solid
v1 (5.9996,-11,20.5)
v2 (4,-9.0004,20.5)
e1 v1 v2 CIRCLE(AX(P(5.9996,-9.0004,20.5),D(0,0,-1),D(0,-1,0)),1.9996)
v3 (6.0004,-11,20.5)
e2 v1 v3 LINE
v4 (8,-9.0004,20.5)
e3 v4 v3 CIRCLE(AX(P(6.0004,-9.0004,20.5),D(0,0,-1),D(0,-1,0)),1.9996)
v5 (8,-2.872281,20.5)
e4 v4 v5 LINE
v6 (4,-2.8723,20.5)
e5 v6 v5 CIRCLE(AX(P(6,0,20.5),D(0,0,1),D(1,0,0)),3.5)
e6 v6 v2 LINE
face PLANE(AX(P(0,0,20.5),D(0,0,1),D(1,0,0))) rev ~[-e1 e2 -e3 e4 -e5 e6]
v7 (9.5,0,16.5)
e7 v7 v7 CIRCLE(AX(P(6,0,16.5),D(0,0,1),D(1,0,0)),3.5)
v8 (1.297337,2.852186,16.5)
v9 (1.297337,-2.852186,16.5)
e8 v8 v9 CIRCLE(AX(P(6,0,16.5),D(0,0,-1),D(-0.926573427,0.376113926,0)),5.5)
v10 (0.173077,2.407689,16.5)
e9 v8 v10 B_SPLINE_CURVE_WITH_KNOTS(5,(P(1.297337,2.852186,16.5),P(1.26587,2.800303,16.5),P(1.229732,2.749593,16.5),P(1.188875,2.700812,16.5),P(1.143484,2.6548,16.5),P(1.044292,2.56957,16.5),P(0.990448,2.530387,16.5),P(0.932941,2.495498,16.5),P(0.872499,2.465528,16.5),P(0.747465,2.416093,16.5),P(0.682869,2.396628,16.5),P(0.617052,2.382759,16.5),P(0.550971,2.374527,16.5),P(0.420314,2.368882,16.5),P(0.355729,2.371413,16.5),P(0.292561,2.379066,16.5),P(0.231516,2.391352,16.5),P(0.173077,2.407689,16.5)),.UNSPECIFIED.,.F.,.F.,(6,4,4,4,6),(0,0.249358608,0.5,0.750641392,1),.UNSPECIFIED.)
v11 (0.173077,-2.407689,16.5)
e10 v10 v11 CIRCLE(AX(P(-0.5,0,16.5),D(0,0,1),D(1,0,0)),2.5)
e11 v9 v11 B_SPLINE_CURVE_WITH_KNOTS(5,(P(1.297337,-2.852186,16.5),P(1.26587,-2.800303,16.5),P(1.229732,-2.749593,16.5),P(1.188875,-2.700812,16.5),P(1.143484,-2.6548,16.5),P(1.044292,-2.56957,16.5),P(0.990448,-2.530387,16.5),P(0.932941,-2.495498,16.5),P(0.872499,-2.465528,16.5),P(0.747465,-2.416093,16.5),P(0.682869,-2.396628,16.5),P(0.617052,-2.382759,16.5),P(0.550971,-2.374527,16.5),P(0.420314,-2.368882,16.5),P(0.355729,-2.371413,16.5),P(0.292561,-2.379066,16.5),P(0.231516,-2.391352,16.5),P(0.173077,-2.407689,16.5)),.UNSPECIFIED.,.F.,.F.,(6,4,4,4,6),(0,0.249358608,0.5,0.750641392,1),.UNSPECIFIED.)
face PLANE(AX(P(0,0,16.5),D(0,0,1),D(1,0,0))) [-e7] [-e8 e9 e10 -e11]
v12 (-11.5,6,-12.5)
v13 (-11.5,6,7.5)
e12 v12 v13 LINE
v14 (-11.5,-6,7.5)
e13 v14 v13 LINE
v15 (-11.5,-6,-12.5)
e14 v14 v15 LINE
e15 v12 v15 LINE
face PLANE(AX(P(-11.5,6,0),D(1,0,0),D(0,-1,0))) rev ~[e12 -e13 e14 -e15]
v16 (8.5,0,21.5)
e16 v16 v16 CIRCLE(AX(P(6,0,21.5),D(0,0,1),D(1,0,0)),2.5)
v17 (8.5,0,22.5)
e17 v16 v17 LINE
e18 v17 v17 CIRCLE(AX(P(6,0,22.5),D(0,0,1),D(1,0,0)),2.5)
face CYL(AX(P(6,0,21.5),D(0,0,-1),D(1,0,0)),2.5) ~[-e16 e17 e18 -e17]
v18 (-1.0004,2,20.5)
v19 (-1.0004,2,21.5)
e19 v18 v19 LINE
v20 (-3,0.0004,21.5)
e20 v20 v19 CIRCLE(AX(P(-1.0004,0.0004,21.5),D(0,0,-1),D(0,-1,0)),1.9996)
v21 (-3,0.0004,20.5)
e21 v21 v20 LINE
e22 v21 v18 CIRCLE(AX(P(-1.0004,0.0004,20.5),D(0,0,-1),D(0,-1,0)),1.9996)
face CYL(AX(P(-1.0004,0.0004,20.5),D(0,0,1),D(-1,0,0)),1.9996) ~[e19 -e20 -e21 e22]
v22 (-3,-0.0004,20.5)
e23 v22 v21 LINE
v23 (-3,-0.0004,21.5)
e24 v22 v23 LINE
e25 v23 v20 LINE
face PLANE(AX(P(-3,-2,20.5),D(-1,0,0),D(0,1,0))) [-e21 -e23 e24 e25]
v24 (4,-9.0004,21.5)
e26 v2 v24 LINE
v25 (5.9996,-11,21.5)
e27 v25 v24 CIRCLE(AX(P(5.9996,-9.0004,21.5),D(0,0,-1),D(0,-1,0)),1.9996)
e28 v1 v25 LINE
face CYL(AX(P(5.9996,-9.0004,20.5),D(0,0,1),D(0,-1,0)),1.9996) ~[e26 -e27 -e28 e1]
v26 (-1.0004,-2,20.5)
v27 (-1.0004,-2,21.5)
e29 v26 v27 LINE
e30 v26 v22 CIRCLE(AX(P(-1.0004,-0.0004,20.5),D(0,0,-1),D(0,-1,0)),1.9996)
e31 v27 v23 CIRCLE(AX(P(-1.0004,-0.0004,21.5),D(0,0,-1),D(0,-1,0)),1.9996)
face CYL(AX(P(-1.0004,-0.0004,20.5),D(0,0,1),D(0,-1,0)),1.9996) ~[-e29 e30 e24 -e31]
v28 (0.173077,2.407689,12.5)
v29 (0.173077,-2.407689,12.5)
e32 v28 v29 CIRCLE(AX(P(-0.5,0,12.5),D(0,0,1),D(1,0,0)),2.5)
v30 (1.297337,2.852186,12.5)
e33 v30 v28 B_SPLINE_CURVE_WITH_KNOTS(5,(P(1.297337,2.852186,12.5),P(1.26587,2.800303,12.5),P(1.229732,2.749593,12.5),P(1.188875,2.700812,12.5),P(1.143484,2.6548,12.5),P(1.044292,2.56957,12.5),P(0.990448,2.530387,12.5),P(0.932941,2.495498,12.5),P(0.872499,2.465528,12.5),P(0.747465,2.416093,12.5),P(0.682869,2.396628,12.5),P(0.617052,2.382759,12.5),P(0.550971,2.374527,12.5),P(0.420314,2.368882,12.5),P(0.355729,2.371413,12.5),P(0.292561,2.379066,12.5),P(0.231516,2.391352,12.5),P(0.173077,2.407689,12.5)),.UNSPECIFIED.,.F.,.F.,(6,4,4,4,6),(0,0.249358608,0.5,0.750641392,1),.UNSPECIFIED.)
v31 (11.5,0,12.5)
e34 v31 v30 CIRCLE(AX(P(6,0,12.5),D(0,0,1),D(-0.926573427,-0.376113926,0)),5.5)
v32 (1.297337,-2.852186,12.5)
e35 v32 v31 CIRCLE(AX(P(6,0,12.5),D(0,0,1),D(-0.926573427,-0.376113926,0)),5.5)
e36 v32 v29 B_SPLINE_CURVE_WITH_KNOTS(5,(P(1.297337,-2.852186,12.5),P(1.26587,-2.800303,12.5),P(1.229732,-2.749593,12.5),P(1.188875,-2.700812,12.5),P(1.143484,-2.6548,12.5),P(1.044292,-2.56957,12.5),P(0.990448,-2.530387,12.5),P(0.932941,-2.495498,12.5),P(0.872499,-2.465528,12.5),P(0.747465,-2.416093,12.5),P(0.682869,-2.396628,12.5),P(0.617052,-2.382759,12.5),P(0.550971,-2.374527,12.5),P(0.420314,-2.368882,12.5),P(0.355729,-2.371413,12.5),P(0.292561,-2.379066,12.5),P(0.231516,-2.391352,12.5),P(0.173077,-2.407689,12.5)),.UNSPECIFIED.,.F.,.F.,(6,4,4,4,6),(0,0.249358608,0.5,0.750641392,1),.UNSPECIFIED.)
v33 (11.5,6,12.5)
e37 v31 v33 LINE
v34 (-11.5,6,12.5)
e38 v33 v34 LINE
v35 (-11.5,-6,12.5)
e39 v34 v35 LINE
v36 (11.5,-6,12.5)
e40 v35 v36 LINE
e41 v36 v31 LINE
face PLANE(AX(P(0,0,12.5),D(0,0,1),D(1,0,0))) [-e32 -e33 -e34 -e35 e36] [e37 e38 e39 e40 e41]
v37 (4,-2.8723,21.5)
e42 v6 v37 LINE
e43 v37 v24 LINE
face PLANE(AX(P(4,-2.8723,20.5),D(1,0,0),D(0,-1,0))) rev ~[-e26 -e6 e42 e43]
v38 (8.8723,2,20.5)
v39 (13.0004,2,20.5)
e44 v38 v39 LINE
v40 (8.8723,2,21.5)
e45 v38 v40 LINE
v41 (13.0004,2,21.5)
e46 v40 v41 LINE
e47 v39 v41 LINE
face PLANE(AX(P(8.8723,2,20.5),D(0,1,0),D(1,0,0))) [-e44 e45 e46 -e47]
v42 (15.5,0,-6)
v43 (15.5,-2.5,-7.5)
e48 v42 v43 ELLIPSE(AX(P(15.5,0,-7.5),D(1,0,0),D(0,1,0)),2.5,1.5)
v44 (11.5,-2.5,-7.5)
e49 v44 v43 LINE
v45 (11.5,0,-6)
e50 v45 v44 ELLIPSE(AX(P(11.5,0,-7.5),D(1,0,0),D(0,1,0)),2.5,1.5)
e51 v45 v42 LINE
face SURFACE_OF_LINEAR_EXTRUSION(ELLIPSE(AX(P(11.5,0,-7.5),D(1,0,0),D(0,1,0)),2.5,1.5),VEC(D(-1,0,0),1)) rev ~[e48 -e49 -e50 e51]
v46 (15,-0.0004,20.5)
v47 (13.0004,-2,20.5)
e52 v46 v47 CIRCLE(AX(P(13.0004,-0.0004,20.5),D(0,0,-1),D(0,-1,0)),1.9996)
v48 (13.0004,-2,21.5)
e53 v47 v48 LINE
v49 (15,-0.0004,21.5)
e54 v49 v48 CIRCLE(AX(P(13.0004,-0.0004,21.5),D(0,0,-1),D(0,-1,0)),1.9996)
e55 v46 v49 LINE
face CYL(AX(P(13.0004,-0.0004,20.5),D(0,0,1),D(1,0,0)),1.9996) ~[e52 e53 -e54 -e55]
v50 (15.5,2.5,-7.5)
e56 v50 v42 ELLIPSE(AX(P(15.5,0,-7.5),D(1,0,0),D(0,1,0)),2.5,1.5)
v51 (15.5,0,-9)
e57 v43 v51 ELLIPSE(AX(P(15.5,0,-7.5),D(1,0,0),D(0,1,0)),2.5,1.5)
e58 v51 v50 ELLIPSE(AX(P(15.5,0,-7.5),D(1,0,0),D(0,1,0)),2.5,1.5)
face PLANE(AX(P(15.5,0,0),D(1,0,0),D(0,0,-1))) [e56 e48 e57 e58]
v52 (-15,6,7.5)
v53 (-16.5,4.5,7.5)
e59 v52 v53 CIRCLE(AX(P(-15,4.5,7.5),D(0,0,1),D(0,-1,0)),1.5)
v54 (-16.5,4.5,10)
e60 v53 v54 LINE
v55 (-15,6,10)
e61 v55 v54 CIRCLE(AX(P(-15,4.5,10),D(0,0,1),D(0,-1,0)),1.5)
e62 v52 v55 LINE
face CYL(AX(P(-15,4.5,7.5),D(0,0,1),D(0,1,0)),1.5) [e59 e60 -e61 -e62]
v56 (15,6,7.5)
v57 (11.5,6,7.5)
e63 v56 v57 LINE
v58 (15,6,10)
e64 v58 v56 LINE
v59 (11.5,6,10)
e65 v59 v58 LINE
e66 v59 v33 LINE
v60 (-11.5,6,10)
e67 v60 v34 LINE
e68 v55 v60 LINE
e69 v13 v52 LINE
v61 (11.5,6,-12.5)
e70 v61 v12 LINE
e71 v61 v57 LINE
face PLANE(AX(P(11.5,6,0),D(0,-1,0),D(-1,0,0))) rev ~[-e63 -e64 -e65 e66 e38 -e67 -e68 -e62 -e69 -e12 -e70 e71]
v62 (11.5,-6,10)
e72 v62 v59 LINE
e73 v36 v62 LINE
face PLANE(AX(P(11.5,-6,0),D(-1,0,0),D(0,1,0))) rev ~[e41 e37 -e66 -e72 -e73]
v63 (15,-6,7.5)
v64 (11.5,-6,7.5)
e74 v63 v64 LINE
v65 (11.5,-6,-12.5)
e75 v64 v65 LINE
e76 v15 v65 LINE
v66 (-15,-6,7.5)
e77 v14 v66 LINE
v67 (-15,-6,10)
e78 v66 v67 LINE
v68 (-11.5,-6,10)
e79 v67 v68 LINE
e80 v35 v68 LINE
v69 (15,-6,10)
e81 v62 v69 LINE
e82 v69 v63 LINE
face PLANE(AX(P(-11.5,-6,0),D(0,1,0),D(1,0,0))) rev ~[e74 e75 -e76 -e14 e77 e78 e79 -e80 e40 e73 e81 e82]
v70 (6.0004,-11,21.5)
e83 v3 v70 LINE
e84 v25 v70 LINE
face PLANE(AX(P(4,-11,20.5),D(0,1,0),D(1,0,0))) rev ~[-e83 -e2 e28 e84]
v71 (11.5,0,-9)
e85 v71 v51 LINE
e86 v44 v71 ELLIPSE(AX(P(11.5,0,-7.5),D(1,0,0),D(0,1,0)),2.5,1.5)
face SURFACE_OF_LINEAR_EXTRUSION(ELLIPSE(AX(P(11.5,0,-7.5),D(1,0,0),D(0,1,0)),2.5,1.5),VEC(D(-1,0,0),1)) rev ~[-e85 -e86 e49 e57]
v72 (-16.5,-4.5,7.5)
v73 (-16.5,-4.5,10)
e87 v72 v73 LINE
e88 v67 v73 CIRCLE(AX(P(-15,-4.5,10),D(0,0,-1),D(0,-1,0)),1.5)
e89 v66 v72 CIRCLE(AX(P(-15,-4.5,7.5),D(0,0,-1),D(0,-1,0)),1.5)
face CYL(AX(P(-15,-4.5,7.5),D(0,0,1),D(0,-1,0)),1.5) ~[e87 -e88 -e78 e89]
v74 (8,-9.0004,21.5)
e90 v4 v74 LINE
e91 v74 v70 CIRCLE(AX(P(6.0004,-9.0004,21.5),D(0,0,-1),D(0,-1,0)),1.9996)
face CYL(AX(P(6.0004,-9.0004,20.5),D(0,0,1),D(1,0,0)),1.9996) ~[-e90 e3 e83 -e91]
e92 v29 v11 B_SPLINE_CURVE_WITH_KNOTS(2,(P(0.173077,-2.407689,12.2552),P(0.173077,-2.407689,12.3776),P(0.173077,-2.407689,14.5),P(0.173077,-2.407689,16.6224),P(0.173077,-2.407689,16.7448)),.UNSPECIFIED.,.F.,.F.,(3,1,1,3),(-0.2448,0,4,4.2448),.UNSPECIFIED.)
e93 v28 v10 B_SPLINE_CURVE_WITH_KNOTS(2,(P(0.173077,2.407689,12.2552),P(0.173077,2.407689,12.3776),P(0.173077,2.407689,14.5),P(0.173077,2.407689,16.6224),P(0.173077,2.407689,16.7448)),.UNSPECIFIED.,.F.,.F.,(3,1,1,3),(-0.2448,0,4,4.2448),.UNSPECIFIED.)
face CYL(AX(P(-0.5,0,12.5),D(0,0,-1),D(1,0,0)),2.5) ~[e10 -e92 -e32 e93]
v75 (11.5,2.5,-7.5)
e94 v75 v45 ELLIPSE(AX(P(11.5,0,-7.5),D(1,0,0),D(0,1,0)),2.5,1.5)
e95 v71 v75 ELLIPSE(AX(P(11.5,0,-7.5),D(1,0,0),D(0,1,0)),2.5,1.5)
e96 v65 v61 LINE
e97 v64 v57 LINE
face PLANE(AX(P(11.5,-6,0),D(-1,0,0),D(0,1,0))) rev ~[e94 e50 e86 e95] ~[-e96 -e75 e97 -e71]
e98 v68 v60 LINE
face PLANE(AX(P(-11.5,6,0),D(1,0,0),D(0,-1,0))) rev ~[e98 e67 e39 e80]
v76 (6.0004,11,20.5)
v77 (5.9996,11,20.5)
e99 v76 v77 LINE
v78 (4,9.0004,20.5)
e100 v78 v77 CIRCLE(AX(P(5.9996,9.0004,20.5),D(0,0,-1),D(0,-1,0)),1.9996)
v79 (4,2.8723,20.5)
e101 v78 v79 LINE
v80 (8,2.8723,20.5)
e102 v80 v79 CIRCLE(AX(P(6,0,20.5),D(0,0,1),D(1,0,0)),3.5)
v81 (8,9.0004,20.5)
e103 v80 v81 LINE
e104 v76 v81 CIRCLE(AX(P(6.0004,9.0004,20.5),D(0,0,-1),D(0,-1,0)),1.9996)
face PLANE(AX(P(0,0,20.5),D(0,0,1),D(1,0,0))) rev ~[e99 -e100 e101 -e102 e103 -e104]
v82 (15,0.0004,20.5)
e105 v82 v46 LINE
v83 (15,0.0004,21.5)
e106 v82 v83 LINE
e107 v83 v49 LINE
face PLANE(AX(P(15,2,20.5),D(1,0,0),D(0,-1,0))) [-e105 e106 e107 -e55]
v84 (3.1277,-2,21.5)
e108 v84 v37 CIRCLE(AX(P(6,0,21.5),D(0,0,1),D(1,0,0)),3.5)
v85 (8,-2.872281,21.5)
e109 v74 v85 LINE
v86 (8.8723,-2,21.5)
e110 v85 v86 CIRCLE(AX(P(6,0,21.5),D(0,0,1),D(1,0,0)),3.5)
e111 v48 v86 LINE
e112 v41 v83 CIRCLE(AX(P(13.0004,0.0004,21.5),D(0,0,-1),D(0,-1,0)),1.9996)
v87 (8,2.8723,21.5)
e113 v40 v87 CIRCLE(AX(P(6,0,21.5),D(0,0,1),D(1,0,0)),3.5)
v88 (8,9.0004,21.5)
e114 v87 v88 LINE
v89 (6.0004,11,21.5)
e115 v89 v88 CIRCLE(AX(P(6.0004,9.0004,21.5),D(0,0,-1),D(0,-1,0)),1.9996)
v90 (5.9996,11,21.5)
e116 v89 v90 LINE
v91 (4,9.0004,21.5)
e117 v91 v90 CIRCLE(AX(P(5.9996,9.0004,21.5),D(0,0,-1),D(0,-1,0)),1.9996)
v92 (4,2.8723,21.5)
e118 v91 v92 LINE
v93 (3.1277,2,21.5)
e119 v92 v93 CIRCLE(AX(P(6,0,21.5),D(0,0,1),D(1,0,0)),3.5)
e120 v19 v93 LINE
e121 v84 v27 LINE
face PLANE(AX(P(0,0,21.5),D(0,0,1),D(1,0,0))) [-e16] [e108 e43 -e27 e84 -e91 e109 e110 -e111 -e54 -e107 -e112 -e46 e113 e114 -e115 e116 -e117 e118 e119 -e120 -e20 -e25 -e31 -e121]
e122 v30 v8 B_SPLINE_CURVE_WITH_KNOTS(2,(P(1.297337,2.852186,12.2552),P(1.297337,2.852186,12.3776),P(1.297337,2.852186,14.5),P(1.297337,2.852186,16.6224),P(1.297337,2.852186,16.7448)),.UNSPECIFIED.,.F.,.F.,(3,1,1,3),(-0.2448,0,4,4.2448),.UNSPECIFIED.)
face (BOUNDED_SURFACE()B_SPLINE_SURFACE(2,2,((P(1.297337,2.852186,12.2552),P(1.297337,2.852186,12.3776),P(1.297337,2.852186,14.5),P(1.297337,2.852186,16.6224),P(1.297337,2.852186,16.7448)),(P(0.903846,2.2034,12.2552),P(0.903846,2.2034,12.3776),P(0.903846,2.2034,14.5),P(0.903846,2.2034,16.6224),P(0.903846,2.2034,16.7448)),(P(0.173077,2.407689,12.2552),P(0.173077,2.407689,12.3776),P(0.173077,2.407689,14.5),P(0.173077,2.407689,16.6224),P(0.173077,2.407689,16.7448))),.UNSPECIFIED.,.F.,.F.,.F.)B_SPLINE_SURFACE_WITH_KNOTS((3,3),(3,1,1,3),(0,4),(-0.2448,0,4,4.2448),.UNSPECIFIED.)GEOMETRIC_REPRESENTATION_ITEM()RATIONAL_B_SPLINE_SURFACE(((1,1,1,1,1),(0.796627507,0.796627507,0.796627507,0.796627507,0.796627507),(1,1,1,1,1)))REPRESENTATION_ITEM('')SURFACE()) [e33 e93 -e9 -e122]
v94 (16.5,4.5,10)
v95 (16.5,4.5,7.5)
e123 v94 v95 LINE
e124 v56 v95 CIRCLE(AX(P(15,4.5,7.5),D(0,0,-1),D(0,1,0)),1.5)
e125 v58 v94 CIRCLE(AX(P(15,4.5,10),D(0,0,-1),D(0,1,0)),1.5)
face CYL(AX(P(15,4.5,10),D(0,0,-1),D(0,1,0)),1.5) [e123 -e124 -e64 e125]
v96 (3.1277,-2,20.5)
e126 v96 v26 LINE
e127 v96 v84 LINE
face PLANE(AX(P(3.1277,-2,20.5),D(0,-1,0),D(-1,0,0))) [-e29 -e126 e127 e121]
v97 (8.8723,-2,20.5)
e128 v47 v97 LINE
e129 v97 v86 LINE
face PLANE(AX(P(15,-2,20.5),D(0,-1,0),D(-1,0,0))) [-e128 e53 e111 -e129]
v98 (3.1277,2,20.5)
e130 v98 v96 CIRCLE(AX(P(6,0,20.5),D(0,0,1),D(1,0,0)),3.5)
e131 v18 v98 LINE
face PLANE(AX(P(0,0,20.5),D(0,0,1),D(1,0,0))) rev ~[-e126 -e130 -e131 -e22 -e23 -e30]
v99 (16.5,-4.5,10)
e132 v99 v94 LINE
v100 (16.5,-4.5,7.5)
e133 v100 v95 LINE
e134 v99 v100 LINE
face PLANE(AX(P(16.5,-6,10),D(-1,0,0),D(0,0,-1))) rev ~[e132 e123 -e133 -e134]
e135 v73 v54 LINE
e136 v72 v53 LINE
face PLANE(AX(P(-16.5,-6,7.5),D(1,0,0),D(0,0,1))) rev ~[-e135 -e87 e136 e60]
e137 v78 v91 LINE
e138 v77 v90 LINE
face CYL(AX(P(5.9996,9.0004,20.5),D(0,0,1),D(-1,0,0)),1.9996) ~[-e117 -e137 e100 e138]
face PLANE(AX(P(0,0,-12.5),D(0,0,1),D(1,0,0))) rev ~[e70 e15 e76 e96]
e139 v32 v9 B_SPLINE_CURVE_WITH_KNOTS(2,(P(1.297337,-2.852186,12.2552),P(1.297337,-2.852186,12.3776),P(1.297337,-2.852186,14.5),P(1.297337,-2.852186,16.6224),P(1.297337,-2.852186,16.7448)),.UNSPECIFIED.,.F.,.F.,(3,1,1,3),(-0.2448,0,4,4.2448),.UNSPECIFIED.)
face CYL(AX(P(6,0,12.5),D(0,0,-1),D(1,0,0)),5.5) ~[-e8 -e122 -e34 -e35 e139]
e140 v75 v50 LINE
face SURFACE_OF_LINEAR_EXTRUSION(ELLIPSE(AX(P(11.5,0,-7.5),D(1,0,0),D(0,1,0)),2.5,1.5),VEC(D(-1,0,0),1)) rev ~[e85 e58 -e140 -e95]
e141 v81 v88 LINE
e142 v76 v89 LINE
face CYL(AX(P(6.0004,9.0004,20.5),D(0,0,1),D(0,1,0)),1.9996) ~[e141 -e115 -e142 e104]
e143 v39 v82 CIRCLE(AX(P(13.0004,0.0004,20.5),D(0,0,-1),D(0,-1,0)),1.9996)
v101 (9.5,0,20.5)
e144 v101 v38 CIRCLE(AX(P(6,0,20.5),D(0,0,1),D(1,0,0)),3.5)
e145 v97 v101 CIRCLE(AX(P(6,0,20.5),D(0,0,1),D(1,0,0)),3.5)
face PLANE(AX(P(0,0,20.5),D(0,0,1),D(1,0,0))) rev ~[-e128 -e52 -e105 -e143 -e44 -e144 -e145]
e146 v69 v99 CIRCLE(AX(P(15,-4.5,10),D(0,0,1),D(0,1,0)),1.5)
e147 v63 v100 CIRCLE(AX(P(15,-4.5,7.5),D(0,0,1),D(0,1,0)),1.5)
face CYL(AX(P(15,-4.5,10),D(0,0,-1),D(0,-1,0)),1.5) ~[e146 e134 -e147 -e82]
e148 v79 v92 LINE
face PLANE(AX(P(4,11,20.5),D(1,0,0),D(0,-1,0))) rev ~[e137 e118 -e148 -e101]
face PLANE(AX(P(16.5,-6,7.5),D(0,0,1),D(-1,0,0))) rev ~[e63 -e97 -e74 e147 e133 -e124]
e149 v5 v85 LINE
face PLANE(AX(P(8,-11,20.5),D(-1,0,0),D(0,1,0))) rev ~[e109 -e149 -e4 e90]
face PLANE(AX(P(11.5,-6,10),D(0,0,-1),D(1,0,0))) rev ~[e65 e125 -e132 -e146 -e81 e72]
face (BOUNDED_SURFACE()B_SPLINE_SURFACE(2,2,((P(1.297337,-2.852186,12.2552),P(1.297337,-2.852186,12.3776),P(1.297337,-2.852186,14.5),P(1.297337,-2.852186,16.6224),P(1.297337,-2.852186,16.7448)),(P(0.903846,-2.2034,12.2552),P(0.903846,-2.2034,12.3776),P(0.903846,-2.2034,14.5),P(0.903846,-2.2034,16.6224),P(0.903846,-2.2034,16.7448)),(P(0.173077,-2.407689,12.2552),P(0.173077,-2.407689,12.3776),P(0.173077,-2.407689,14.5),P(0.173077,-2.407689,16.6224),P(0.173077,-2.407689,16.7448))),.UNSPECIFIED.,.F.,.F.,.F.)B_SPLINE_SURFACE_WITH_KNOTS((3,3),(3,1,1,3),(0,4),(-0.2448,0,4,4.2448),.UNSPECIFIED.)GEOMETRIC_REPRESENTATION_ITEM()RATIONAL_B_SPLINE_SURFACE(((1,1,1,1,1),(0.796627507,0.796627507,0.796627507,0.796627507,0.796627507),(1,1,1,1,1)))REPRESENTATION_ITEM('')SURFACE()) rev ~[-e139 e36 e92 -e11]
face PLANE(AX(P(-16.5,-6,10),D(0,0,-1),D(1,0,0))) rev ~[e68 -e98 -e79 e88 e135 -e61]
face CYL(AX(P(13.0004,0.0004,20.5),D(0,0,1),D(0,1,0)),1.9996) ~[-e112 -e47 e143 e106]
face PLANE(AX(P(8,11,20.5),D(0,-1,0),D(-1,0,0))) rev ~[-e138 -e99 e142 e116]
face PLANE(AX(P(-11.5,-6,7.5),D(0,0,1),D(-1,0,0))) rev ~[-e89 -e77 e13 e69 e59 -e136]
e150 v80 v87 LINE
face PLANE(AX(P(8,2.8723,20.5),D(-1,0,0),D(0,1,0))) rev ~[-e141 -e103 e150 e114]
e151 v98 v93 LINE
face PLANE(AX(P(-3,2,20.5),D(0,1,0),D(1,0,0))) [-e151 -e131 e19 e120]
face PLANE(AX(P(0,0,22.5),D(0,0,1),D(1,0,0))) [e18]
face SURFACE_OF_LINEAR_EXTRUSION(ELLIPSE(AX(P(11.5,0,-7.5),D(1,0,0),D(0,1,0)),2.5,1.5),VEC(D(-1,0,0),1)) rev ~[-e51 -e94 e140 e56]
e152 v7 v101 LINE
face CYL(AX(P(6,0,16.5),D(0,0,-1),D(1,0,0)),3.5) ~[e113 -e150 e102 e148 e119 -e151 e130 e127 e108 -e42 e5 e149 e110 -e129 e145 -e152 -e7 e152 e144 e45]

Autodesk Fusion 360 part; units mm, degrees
sketch "Skizze1" plane through (0, 0, 0) normal (0, 0, 1) x (1, 0, 0)
  line L0 (11.5, 6) -> (-11.5, 6)
  line L1 (-11.5, 6) -> (-11.5, -6)
  line L2 (-11.5, -6) -> (11.5, -6)
  line L3 (11.5, -6) -> (11.5, 6)
  line L4 (11.5, 6) -> (-11.5, -6) construction
  line L5 (-11.5, 6) -> (11.5, -6) construction
  dimension "d1" = 23
  dimension "d2" = 12
extrude "Extrusion1" add sketch "Skizze1" along normal mid plane 25
sketch "Skizze2" plane through (0, -6, 0) normal (0, -1, 0) x (1, 0, 0)
  line L0 (11.5, -12.5) -> (11.5, 12.5)
  line L1 (11.5, 12.5) -> (-11.5, 12.5)
  line L2 (-11.5, 12.5) -> (-11.5, -12.5)
  line L3 (-11.5, -12.5) -> (11.5, -12.5)
  line L4 (-16.5, 10) -> (16.5, 10)
  line L5 (16.5, 10) -> (16.5, 7.5)
  line L6 (16.5, 7.5) -> (-16.5, 7.5)
  line L7 (-16.5, 7.5) -> (-16.5, 10)
  dimension "d5" = 2.5
  dimension "d6" = 2.5
  dimension "d7" = 5
  dimension "d8" = 5
extrude "Extrusion2" add sketch "Skizze2" against normal blind 12 contours L0 L4 L5 L6 | L2 L4 L6 L7
fillet "Abrundung1" radius 1.5 4 edges at (16.5, -6, 8.75) (16.5, 6, 8.75) (-16.5, -6, 8.75) (-16.5, 6, 8.75)
sketch "Skizze3" plane through (0, 0, 12.5) normal (0, 0, 1) x (1, 0, 0)
  line L0 (11.5, -6) -> (11.5, 6)
  line L1 (11.5, 6) -> (-11.5, 6)
  line L2 (-11.5, 6) -> (-11.5, -6)
  line L3 (-11.5, -6) -> (11.5, -6)
  circle A0 centre (6, 0) radius 5.5
  circle A1 centre (-0.5, 0) radius 2.5
  dimension "d13" = 11
  dimension "d15" = 5
  dimension "d16" = 12
extrude "Extrusion3" add sketch "Skizze3" along normal blind 4 contours A0 A1 | A0 A1 | A0 A1
fillet "Abrundung2" radius 1 2 edges at (0.9038, -2.0686, 14.5) (0.9038, 2.0686, 14.5)
sketch "Skizze4" plane through (11.5, 0, 0) normal (1, 0, 0) x (0, 0, -1)
  line L0 (-7.5, 6) -> (-7.5, -6)
  line L1 (-7.5, -6) -> (12.5, -6)
  line L2 (12.5, -6) -> (12.5, 6)
  line L3 (12.5, 6) -> (-7.5, 6)
  ellipse E0 centre (7.5, 0) end of major axis (7.5, 2.5) minor radius 1.5
  line L4 (7.5, -2.5) -> (7.5, 2.5)
  line L5 (9, 0) -> (6, 0)
  dimension "d21" = 5
  dimension "d22" = 3
  dimension "d23" = 5
extrude "Extrusion4" add sketch "Skizze4" along normal blind 4 contours E0 L4 L5 | E0 L4 L5 | E0 L4 L5 | E0 L4 L5
sketch "Skizze5" plane through (0, 0, 16.5) normal (0, 0, 1) x (1, 0, 0)
  arc A0 (1.2973, -2.8522) -> (1.2973, 2.8522) centre (6, 0) ccw
  arc A1 (0.1731, 2.4077) -> (1.2973, 2.8522) centre (0.4423, 3.3708) ccw
  arc A2 (0.1731, 2.4077) -> (0.1731, -2.4077) centre (-0.5, 0) ccw
  arc A3 (1.2973, -2.8522) -> (0.1731, -2.4077) centre (0.4423, -3.3708) ccw
  circle A4 centre (6, 0) radius 3.5
  dimension "d26" = 7
extrude "Extrusion5" add sketch "Skizze5" along normal blind 4 contours A4
sketch "Skizze6" plane through (0, 0, 20.5) normal (0, 0, 1) x (1, 0, 0)
  circle A0 centre (6, 0) radius 3.5
  line L0 (8, 11) -> (4, 11)
  line L1 (4, -11) -> (8, -11)
  line L2 (8, 11) -> (4, -11) construction
  line L3 (4, 11) -> (8, -11) construction
  line L4 (-3, -2) -> (-3, 2)
  line L5 (15, 2) -> (15, -2)
  line L6 (15, -2) -> (-3, 2) construction
  line L7 (-3, -2) -> (15, 2) construction
  line L8 (-3, 2) -> (3.1277, 2)
  line L9 (5.6364, 2) -> (6.3636, 2)
  line L10 (8.8723, 2) -> (15, 2)
  line L11 (4, 11) -> (4, 2.8723)
  line L12 (8, 2.8723) -> (8, 11)
  line L13 (8, -11) -> (8, -2)
  line L14 (8, -0.4444) -> (8, 0.4444)
  line L15 (15, -2) -> (8.8723, -2)
  line L16 (6.3636, -2) -> (5.6364, -2)
  line L17 (3.1277, -2) -> (-3, -2)
  line L18 (4, 0.4444) -> (4, -0.4444)
  line L19 (4, -2.8723) -> (4, -11)
  point P0 (6, 0)
  point P1 (6, 0)
  dimension "d29" = 4
  dimension "d30" = 4
  dimension "d31" = 18
  dimension "d32" = 22
extrude "Extrusion6" add sketch "Skizze6" along normal blind 1
fillet "Abrundung3" radius 2 8 edges at (-3, -2, 21) (4, -11, 21) (8, -11, 21) (15, -2, 21) (15, 2, 21) (8, 11, 21) (4, 11, 21) (-3, 2, 21)
sketch "Skizze7" plane through (0, 0, 21.5) normal (0, 0, 1) x (1, 0, 0)
  arc A0 (-1, 2) -> (-1, -2) centre (-1, 0) ccw
  line L0 (-1, -2) -> (3.1277, -2)
  arc A1 (3.1277, -2) -> (4, -2.8723) centre (6, 0) ccw
  line L1 (4, -2.8723) -> (4, -9)
  arc A2 (4, -9) -> (8, -9) centre (6, -9) ccw
  line L2 (8, -9) -> (8, -2.8723)
  arc A3 (8, -2.8723) -> (8.8723, -2) centre (6, 0) ccw
  line L3 (8.8723, -2) -> (13, -2)
  arc A4 (13, -2) -> (13, 2) centre (13, 0) ccw
  line L4 (13, 2) -> (8.8723, 2)
  arc A5 (8.8723, 2) -> (8, 2.8723) centre (6, 0) ccw
  line L5 (8, 2.8723) -> (8, 9)
  arc A6 (8, 9) -> (4, 9) centre (6, 9) ccw
  line L6 (4, 9) -> (4, 2.8723)
  arc A7 (4, 2.8723) -> (3.1277, 2) centre (6, 0) ccw
  line L7 (3.1277, 2) -> (-1, 2)
  circle A8 centre (6, 0) radius 2.5
  dimension "d37" = 5
extrude "Extrusion7" add sketch "Skizze7" along normal blind 1 contours A8
equation "d8 = d7"
equation "d30 = d29"
